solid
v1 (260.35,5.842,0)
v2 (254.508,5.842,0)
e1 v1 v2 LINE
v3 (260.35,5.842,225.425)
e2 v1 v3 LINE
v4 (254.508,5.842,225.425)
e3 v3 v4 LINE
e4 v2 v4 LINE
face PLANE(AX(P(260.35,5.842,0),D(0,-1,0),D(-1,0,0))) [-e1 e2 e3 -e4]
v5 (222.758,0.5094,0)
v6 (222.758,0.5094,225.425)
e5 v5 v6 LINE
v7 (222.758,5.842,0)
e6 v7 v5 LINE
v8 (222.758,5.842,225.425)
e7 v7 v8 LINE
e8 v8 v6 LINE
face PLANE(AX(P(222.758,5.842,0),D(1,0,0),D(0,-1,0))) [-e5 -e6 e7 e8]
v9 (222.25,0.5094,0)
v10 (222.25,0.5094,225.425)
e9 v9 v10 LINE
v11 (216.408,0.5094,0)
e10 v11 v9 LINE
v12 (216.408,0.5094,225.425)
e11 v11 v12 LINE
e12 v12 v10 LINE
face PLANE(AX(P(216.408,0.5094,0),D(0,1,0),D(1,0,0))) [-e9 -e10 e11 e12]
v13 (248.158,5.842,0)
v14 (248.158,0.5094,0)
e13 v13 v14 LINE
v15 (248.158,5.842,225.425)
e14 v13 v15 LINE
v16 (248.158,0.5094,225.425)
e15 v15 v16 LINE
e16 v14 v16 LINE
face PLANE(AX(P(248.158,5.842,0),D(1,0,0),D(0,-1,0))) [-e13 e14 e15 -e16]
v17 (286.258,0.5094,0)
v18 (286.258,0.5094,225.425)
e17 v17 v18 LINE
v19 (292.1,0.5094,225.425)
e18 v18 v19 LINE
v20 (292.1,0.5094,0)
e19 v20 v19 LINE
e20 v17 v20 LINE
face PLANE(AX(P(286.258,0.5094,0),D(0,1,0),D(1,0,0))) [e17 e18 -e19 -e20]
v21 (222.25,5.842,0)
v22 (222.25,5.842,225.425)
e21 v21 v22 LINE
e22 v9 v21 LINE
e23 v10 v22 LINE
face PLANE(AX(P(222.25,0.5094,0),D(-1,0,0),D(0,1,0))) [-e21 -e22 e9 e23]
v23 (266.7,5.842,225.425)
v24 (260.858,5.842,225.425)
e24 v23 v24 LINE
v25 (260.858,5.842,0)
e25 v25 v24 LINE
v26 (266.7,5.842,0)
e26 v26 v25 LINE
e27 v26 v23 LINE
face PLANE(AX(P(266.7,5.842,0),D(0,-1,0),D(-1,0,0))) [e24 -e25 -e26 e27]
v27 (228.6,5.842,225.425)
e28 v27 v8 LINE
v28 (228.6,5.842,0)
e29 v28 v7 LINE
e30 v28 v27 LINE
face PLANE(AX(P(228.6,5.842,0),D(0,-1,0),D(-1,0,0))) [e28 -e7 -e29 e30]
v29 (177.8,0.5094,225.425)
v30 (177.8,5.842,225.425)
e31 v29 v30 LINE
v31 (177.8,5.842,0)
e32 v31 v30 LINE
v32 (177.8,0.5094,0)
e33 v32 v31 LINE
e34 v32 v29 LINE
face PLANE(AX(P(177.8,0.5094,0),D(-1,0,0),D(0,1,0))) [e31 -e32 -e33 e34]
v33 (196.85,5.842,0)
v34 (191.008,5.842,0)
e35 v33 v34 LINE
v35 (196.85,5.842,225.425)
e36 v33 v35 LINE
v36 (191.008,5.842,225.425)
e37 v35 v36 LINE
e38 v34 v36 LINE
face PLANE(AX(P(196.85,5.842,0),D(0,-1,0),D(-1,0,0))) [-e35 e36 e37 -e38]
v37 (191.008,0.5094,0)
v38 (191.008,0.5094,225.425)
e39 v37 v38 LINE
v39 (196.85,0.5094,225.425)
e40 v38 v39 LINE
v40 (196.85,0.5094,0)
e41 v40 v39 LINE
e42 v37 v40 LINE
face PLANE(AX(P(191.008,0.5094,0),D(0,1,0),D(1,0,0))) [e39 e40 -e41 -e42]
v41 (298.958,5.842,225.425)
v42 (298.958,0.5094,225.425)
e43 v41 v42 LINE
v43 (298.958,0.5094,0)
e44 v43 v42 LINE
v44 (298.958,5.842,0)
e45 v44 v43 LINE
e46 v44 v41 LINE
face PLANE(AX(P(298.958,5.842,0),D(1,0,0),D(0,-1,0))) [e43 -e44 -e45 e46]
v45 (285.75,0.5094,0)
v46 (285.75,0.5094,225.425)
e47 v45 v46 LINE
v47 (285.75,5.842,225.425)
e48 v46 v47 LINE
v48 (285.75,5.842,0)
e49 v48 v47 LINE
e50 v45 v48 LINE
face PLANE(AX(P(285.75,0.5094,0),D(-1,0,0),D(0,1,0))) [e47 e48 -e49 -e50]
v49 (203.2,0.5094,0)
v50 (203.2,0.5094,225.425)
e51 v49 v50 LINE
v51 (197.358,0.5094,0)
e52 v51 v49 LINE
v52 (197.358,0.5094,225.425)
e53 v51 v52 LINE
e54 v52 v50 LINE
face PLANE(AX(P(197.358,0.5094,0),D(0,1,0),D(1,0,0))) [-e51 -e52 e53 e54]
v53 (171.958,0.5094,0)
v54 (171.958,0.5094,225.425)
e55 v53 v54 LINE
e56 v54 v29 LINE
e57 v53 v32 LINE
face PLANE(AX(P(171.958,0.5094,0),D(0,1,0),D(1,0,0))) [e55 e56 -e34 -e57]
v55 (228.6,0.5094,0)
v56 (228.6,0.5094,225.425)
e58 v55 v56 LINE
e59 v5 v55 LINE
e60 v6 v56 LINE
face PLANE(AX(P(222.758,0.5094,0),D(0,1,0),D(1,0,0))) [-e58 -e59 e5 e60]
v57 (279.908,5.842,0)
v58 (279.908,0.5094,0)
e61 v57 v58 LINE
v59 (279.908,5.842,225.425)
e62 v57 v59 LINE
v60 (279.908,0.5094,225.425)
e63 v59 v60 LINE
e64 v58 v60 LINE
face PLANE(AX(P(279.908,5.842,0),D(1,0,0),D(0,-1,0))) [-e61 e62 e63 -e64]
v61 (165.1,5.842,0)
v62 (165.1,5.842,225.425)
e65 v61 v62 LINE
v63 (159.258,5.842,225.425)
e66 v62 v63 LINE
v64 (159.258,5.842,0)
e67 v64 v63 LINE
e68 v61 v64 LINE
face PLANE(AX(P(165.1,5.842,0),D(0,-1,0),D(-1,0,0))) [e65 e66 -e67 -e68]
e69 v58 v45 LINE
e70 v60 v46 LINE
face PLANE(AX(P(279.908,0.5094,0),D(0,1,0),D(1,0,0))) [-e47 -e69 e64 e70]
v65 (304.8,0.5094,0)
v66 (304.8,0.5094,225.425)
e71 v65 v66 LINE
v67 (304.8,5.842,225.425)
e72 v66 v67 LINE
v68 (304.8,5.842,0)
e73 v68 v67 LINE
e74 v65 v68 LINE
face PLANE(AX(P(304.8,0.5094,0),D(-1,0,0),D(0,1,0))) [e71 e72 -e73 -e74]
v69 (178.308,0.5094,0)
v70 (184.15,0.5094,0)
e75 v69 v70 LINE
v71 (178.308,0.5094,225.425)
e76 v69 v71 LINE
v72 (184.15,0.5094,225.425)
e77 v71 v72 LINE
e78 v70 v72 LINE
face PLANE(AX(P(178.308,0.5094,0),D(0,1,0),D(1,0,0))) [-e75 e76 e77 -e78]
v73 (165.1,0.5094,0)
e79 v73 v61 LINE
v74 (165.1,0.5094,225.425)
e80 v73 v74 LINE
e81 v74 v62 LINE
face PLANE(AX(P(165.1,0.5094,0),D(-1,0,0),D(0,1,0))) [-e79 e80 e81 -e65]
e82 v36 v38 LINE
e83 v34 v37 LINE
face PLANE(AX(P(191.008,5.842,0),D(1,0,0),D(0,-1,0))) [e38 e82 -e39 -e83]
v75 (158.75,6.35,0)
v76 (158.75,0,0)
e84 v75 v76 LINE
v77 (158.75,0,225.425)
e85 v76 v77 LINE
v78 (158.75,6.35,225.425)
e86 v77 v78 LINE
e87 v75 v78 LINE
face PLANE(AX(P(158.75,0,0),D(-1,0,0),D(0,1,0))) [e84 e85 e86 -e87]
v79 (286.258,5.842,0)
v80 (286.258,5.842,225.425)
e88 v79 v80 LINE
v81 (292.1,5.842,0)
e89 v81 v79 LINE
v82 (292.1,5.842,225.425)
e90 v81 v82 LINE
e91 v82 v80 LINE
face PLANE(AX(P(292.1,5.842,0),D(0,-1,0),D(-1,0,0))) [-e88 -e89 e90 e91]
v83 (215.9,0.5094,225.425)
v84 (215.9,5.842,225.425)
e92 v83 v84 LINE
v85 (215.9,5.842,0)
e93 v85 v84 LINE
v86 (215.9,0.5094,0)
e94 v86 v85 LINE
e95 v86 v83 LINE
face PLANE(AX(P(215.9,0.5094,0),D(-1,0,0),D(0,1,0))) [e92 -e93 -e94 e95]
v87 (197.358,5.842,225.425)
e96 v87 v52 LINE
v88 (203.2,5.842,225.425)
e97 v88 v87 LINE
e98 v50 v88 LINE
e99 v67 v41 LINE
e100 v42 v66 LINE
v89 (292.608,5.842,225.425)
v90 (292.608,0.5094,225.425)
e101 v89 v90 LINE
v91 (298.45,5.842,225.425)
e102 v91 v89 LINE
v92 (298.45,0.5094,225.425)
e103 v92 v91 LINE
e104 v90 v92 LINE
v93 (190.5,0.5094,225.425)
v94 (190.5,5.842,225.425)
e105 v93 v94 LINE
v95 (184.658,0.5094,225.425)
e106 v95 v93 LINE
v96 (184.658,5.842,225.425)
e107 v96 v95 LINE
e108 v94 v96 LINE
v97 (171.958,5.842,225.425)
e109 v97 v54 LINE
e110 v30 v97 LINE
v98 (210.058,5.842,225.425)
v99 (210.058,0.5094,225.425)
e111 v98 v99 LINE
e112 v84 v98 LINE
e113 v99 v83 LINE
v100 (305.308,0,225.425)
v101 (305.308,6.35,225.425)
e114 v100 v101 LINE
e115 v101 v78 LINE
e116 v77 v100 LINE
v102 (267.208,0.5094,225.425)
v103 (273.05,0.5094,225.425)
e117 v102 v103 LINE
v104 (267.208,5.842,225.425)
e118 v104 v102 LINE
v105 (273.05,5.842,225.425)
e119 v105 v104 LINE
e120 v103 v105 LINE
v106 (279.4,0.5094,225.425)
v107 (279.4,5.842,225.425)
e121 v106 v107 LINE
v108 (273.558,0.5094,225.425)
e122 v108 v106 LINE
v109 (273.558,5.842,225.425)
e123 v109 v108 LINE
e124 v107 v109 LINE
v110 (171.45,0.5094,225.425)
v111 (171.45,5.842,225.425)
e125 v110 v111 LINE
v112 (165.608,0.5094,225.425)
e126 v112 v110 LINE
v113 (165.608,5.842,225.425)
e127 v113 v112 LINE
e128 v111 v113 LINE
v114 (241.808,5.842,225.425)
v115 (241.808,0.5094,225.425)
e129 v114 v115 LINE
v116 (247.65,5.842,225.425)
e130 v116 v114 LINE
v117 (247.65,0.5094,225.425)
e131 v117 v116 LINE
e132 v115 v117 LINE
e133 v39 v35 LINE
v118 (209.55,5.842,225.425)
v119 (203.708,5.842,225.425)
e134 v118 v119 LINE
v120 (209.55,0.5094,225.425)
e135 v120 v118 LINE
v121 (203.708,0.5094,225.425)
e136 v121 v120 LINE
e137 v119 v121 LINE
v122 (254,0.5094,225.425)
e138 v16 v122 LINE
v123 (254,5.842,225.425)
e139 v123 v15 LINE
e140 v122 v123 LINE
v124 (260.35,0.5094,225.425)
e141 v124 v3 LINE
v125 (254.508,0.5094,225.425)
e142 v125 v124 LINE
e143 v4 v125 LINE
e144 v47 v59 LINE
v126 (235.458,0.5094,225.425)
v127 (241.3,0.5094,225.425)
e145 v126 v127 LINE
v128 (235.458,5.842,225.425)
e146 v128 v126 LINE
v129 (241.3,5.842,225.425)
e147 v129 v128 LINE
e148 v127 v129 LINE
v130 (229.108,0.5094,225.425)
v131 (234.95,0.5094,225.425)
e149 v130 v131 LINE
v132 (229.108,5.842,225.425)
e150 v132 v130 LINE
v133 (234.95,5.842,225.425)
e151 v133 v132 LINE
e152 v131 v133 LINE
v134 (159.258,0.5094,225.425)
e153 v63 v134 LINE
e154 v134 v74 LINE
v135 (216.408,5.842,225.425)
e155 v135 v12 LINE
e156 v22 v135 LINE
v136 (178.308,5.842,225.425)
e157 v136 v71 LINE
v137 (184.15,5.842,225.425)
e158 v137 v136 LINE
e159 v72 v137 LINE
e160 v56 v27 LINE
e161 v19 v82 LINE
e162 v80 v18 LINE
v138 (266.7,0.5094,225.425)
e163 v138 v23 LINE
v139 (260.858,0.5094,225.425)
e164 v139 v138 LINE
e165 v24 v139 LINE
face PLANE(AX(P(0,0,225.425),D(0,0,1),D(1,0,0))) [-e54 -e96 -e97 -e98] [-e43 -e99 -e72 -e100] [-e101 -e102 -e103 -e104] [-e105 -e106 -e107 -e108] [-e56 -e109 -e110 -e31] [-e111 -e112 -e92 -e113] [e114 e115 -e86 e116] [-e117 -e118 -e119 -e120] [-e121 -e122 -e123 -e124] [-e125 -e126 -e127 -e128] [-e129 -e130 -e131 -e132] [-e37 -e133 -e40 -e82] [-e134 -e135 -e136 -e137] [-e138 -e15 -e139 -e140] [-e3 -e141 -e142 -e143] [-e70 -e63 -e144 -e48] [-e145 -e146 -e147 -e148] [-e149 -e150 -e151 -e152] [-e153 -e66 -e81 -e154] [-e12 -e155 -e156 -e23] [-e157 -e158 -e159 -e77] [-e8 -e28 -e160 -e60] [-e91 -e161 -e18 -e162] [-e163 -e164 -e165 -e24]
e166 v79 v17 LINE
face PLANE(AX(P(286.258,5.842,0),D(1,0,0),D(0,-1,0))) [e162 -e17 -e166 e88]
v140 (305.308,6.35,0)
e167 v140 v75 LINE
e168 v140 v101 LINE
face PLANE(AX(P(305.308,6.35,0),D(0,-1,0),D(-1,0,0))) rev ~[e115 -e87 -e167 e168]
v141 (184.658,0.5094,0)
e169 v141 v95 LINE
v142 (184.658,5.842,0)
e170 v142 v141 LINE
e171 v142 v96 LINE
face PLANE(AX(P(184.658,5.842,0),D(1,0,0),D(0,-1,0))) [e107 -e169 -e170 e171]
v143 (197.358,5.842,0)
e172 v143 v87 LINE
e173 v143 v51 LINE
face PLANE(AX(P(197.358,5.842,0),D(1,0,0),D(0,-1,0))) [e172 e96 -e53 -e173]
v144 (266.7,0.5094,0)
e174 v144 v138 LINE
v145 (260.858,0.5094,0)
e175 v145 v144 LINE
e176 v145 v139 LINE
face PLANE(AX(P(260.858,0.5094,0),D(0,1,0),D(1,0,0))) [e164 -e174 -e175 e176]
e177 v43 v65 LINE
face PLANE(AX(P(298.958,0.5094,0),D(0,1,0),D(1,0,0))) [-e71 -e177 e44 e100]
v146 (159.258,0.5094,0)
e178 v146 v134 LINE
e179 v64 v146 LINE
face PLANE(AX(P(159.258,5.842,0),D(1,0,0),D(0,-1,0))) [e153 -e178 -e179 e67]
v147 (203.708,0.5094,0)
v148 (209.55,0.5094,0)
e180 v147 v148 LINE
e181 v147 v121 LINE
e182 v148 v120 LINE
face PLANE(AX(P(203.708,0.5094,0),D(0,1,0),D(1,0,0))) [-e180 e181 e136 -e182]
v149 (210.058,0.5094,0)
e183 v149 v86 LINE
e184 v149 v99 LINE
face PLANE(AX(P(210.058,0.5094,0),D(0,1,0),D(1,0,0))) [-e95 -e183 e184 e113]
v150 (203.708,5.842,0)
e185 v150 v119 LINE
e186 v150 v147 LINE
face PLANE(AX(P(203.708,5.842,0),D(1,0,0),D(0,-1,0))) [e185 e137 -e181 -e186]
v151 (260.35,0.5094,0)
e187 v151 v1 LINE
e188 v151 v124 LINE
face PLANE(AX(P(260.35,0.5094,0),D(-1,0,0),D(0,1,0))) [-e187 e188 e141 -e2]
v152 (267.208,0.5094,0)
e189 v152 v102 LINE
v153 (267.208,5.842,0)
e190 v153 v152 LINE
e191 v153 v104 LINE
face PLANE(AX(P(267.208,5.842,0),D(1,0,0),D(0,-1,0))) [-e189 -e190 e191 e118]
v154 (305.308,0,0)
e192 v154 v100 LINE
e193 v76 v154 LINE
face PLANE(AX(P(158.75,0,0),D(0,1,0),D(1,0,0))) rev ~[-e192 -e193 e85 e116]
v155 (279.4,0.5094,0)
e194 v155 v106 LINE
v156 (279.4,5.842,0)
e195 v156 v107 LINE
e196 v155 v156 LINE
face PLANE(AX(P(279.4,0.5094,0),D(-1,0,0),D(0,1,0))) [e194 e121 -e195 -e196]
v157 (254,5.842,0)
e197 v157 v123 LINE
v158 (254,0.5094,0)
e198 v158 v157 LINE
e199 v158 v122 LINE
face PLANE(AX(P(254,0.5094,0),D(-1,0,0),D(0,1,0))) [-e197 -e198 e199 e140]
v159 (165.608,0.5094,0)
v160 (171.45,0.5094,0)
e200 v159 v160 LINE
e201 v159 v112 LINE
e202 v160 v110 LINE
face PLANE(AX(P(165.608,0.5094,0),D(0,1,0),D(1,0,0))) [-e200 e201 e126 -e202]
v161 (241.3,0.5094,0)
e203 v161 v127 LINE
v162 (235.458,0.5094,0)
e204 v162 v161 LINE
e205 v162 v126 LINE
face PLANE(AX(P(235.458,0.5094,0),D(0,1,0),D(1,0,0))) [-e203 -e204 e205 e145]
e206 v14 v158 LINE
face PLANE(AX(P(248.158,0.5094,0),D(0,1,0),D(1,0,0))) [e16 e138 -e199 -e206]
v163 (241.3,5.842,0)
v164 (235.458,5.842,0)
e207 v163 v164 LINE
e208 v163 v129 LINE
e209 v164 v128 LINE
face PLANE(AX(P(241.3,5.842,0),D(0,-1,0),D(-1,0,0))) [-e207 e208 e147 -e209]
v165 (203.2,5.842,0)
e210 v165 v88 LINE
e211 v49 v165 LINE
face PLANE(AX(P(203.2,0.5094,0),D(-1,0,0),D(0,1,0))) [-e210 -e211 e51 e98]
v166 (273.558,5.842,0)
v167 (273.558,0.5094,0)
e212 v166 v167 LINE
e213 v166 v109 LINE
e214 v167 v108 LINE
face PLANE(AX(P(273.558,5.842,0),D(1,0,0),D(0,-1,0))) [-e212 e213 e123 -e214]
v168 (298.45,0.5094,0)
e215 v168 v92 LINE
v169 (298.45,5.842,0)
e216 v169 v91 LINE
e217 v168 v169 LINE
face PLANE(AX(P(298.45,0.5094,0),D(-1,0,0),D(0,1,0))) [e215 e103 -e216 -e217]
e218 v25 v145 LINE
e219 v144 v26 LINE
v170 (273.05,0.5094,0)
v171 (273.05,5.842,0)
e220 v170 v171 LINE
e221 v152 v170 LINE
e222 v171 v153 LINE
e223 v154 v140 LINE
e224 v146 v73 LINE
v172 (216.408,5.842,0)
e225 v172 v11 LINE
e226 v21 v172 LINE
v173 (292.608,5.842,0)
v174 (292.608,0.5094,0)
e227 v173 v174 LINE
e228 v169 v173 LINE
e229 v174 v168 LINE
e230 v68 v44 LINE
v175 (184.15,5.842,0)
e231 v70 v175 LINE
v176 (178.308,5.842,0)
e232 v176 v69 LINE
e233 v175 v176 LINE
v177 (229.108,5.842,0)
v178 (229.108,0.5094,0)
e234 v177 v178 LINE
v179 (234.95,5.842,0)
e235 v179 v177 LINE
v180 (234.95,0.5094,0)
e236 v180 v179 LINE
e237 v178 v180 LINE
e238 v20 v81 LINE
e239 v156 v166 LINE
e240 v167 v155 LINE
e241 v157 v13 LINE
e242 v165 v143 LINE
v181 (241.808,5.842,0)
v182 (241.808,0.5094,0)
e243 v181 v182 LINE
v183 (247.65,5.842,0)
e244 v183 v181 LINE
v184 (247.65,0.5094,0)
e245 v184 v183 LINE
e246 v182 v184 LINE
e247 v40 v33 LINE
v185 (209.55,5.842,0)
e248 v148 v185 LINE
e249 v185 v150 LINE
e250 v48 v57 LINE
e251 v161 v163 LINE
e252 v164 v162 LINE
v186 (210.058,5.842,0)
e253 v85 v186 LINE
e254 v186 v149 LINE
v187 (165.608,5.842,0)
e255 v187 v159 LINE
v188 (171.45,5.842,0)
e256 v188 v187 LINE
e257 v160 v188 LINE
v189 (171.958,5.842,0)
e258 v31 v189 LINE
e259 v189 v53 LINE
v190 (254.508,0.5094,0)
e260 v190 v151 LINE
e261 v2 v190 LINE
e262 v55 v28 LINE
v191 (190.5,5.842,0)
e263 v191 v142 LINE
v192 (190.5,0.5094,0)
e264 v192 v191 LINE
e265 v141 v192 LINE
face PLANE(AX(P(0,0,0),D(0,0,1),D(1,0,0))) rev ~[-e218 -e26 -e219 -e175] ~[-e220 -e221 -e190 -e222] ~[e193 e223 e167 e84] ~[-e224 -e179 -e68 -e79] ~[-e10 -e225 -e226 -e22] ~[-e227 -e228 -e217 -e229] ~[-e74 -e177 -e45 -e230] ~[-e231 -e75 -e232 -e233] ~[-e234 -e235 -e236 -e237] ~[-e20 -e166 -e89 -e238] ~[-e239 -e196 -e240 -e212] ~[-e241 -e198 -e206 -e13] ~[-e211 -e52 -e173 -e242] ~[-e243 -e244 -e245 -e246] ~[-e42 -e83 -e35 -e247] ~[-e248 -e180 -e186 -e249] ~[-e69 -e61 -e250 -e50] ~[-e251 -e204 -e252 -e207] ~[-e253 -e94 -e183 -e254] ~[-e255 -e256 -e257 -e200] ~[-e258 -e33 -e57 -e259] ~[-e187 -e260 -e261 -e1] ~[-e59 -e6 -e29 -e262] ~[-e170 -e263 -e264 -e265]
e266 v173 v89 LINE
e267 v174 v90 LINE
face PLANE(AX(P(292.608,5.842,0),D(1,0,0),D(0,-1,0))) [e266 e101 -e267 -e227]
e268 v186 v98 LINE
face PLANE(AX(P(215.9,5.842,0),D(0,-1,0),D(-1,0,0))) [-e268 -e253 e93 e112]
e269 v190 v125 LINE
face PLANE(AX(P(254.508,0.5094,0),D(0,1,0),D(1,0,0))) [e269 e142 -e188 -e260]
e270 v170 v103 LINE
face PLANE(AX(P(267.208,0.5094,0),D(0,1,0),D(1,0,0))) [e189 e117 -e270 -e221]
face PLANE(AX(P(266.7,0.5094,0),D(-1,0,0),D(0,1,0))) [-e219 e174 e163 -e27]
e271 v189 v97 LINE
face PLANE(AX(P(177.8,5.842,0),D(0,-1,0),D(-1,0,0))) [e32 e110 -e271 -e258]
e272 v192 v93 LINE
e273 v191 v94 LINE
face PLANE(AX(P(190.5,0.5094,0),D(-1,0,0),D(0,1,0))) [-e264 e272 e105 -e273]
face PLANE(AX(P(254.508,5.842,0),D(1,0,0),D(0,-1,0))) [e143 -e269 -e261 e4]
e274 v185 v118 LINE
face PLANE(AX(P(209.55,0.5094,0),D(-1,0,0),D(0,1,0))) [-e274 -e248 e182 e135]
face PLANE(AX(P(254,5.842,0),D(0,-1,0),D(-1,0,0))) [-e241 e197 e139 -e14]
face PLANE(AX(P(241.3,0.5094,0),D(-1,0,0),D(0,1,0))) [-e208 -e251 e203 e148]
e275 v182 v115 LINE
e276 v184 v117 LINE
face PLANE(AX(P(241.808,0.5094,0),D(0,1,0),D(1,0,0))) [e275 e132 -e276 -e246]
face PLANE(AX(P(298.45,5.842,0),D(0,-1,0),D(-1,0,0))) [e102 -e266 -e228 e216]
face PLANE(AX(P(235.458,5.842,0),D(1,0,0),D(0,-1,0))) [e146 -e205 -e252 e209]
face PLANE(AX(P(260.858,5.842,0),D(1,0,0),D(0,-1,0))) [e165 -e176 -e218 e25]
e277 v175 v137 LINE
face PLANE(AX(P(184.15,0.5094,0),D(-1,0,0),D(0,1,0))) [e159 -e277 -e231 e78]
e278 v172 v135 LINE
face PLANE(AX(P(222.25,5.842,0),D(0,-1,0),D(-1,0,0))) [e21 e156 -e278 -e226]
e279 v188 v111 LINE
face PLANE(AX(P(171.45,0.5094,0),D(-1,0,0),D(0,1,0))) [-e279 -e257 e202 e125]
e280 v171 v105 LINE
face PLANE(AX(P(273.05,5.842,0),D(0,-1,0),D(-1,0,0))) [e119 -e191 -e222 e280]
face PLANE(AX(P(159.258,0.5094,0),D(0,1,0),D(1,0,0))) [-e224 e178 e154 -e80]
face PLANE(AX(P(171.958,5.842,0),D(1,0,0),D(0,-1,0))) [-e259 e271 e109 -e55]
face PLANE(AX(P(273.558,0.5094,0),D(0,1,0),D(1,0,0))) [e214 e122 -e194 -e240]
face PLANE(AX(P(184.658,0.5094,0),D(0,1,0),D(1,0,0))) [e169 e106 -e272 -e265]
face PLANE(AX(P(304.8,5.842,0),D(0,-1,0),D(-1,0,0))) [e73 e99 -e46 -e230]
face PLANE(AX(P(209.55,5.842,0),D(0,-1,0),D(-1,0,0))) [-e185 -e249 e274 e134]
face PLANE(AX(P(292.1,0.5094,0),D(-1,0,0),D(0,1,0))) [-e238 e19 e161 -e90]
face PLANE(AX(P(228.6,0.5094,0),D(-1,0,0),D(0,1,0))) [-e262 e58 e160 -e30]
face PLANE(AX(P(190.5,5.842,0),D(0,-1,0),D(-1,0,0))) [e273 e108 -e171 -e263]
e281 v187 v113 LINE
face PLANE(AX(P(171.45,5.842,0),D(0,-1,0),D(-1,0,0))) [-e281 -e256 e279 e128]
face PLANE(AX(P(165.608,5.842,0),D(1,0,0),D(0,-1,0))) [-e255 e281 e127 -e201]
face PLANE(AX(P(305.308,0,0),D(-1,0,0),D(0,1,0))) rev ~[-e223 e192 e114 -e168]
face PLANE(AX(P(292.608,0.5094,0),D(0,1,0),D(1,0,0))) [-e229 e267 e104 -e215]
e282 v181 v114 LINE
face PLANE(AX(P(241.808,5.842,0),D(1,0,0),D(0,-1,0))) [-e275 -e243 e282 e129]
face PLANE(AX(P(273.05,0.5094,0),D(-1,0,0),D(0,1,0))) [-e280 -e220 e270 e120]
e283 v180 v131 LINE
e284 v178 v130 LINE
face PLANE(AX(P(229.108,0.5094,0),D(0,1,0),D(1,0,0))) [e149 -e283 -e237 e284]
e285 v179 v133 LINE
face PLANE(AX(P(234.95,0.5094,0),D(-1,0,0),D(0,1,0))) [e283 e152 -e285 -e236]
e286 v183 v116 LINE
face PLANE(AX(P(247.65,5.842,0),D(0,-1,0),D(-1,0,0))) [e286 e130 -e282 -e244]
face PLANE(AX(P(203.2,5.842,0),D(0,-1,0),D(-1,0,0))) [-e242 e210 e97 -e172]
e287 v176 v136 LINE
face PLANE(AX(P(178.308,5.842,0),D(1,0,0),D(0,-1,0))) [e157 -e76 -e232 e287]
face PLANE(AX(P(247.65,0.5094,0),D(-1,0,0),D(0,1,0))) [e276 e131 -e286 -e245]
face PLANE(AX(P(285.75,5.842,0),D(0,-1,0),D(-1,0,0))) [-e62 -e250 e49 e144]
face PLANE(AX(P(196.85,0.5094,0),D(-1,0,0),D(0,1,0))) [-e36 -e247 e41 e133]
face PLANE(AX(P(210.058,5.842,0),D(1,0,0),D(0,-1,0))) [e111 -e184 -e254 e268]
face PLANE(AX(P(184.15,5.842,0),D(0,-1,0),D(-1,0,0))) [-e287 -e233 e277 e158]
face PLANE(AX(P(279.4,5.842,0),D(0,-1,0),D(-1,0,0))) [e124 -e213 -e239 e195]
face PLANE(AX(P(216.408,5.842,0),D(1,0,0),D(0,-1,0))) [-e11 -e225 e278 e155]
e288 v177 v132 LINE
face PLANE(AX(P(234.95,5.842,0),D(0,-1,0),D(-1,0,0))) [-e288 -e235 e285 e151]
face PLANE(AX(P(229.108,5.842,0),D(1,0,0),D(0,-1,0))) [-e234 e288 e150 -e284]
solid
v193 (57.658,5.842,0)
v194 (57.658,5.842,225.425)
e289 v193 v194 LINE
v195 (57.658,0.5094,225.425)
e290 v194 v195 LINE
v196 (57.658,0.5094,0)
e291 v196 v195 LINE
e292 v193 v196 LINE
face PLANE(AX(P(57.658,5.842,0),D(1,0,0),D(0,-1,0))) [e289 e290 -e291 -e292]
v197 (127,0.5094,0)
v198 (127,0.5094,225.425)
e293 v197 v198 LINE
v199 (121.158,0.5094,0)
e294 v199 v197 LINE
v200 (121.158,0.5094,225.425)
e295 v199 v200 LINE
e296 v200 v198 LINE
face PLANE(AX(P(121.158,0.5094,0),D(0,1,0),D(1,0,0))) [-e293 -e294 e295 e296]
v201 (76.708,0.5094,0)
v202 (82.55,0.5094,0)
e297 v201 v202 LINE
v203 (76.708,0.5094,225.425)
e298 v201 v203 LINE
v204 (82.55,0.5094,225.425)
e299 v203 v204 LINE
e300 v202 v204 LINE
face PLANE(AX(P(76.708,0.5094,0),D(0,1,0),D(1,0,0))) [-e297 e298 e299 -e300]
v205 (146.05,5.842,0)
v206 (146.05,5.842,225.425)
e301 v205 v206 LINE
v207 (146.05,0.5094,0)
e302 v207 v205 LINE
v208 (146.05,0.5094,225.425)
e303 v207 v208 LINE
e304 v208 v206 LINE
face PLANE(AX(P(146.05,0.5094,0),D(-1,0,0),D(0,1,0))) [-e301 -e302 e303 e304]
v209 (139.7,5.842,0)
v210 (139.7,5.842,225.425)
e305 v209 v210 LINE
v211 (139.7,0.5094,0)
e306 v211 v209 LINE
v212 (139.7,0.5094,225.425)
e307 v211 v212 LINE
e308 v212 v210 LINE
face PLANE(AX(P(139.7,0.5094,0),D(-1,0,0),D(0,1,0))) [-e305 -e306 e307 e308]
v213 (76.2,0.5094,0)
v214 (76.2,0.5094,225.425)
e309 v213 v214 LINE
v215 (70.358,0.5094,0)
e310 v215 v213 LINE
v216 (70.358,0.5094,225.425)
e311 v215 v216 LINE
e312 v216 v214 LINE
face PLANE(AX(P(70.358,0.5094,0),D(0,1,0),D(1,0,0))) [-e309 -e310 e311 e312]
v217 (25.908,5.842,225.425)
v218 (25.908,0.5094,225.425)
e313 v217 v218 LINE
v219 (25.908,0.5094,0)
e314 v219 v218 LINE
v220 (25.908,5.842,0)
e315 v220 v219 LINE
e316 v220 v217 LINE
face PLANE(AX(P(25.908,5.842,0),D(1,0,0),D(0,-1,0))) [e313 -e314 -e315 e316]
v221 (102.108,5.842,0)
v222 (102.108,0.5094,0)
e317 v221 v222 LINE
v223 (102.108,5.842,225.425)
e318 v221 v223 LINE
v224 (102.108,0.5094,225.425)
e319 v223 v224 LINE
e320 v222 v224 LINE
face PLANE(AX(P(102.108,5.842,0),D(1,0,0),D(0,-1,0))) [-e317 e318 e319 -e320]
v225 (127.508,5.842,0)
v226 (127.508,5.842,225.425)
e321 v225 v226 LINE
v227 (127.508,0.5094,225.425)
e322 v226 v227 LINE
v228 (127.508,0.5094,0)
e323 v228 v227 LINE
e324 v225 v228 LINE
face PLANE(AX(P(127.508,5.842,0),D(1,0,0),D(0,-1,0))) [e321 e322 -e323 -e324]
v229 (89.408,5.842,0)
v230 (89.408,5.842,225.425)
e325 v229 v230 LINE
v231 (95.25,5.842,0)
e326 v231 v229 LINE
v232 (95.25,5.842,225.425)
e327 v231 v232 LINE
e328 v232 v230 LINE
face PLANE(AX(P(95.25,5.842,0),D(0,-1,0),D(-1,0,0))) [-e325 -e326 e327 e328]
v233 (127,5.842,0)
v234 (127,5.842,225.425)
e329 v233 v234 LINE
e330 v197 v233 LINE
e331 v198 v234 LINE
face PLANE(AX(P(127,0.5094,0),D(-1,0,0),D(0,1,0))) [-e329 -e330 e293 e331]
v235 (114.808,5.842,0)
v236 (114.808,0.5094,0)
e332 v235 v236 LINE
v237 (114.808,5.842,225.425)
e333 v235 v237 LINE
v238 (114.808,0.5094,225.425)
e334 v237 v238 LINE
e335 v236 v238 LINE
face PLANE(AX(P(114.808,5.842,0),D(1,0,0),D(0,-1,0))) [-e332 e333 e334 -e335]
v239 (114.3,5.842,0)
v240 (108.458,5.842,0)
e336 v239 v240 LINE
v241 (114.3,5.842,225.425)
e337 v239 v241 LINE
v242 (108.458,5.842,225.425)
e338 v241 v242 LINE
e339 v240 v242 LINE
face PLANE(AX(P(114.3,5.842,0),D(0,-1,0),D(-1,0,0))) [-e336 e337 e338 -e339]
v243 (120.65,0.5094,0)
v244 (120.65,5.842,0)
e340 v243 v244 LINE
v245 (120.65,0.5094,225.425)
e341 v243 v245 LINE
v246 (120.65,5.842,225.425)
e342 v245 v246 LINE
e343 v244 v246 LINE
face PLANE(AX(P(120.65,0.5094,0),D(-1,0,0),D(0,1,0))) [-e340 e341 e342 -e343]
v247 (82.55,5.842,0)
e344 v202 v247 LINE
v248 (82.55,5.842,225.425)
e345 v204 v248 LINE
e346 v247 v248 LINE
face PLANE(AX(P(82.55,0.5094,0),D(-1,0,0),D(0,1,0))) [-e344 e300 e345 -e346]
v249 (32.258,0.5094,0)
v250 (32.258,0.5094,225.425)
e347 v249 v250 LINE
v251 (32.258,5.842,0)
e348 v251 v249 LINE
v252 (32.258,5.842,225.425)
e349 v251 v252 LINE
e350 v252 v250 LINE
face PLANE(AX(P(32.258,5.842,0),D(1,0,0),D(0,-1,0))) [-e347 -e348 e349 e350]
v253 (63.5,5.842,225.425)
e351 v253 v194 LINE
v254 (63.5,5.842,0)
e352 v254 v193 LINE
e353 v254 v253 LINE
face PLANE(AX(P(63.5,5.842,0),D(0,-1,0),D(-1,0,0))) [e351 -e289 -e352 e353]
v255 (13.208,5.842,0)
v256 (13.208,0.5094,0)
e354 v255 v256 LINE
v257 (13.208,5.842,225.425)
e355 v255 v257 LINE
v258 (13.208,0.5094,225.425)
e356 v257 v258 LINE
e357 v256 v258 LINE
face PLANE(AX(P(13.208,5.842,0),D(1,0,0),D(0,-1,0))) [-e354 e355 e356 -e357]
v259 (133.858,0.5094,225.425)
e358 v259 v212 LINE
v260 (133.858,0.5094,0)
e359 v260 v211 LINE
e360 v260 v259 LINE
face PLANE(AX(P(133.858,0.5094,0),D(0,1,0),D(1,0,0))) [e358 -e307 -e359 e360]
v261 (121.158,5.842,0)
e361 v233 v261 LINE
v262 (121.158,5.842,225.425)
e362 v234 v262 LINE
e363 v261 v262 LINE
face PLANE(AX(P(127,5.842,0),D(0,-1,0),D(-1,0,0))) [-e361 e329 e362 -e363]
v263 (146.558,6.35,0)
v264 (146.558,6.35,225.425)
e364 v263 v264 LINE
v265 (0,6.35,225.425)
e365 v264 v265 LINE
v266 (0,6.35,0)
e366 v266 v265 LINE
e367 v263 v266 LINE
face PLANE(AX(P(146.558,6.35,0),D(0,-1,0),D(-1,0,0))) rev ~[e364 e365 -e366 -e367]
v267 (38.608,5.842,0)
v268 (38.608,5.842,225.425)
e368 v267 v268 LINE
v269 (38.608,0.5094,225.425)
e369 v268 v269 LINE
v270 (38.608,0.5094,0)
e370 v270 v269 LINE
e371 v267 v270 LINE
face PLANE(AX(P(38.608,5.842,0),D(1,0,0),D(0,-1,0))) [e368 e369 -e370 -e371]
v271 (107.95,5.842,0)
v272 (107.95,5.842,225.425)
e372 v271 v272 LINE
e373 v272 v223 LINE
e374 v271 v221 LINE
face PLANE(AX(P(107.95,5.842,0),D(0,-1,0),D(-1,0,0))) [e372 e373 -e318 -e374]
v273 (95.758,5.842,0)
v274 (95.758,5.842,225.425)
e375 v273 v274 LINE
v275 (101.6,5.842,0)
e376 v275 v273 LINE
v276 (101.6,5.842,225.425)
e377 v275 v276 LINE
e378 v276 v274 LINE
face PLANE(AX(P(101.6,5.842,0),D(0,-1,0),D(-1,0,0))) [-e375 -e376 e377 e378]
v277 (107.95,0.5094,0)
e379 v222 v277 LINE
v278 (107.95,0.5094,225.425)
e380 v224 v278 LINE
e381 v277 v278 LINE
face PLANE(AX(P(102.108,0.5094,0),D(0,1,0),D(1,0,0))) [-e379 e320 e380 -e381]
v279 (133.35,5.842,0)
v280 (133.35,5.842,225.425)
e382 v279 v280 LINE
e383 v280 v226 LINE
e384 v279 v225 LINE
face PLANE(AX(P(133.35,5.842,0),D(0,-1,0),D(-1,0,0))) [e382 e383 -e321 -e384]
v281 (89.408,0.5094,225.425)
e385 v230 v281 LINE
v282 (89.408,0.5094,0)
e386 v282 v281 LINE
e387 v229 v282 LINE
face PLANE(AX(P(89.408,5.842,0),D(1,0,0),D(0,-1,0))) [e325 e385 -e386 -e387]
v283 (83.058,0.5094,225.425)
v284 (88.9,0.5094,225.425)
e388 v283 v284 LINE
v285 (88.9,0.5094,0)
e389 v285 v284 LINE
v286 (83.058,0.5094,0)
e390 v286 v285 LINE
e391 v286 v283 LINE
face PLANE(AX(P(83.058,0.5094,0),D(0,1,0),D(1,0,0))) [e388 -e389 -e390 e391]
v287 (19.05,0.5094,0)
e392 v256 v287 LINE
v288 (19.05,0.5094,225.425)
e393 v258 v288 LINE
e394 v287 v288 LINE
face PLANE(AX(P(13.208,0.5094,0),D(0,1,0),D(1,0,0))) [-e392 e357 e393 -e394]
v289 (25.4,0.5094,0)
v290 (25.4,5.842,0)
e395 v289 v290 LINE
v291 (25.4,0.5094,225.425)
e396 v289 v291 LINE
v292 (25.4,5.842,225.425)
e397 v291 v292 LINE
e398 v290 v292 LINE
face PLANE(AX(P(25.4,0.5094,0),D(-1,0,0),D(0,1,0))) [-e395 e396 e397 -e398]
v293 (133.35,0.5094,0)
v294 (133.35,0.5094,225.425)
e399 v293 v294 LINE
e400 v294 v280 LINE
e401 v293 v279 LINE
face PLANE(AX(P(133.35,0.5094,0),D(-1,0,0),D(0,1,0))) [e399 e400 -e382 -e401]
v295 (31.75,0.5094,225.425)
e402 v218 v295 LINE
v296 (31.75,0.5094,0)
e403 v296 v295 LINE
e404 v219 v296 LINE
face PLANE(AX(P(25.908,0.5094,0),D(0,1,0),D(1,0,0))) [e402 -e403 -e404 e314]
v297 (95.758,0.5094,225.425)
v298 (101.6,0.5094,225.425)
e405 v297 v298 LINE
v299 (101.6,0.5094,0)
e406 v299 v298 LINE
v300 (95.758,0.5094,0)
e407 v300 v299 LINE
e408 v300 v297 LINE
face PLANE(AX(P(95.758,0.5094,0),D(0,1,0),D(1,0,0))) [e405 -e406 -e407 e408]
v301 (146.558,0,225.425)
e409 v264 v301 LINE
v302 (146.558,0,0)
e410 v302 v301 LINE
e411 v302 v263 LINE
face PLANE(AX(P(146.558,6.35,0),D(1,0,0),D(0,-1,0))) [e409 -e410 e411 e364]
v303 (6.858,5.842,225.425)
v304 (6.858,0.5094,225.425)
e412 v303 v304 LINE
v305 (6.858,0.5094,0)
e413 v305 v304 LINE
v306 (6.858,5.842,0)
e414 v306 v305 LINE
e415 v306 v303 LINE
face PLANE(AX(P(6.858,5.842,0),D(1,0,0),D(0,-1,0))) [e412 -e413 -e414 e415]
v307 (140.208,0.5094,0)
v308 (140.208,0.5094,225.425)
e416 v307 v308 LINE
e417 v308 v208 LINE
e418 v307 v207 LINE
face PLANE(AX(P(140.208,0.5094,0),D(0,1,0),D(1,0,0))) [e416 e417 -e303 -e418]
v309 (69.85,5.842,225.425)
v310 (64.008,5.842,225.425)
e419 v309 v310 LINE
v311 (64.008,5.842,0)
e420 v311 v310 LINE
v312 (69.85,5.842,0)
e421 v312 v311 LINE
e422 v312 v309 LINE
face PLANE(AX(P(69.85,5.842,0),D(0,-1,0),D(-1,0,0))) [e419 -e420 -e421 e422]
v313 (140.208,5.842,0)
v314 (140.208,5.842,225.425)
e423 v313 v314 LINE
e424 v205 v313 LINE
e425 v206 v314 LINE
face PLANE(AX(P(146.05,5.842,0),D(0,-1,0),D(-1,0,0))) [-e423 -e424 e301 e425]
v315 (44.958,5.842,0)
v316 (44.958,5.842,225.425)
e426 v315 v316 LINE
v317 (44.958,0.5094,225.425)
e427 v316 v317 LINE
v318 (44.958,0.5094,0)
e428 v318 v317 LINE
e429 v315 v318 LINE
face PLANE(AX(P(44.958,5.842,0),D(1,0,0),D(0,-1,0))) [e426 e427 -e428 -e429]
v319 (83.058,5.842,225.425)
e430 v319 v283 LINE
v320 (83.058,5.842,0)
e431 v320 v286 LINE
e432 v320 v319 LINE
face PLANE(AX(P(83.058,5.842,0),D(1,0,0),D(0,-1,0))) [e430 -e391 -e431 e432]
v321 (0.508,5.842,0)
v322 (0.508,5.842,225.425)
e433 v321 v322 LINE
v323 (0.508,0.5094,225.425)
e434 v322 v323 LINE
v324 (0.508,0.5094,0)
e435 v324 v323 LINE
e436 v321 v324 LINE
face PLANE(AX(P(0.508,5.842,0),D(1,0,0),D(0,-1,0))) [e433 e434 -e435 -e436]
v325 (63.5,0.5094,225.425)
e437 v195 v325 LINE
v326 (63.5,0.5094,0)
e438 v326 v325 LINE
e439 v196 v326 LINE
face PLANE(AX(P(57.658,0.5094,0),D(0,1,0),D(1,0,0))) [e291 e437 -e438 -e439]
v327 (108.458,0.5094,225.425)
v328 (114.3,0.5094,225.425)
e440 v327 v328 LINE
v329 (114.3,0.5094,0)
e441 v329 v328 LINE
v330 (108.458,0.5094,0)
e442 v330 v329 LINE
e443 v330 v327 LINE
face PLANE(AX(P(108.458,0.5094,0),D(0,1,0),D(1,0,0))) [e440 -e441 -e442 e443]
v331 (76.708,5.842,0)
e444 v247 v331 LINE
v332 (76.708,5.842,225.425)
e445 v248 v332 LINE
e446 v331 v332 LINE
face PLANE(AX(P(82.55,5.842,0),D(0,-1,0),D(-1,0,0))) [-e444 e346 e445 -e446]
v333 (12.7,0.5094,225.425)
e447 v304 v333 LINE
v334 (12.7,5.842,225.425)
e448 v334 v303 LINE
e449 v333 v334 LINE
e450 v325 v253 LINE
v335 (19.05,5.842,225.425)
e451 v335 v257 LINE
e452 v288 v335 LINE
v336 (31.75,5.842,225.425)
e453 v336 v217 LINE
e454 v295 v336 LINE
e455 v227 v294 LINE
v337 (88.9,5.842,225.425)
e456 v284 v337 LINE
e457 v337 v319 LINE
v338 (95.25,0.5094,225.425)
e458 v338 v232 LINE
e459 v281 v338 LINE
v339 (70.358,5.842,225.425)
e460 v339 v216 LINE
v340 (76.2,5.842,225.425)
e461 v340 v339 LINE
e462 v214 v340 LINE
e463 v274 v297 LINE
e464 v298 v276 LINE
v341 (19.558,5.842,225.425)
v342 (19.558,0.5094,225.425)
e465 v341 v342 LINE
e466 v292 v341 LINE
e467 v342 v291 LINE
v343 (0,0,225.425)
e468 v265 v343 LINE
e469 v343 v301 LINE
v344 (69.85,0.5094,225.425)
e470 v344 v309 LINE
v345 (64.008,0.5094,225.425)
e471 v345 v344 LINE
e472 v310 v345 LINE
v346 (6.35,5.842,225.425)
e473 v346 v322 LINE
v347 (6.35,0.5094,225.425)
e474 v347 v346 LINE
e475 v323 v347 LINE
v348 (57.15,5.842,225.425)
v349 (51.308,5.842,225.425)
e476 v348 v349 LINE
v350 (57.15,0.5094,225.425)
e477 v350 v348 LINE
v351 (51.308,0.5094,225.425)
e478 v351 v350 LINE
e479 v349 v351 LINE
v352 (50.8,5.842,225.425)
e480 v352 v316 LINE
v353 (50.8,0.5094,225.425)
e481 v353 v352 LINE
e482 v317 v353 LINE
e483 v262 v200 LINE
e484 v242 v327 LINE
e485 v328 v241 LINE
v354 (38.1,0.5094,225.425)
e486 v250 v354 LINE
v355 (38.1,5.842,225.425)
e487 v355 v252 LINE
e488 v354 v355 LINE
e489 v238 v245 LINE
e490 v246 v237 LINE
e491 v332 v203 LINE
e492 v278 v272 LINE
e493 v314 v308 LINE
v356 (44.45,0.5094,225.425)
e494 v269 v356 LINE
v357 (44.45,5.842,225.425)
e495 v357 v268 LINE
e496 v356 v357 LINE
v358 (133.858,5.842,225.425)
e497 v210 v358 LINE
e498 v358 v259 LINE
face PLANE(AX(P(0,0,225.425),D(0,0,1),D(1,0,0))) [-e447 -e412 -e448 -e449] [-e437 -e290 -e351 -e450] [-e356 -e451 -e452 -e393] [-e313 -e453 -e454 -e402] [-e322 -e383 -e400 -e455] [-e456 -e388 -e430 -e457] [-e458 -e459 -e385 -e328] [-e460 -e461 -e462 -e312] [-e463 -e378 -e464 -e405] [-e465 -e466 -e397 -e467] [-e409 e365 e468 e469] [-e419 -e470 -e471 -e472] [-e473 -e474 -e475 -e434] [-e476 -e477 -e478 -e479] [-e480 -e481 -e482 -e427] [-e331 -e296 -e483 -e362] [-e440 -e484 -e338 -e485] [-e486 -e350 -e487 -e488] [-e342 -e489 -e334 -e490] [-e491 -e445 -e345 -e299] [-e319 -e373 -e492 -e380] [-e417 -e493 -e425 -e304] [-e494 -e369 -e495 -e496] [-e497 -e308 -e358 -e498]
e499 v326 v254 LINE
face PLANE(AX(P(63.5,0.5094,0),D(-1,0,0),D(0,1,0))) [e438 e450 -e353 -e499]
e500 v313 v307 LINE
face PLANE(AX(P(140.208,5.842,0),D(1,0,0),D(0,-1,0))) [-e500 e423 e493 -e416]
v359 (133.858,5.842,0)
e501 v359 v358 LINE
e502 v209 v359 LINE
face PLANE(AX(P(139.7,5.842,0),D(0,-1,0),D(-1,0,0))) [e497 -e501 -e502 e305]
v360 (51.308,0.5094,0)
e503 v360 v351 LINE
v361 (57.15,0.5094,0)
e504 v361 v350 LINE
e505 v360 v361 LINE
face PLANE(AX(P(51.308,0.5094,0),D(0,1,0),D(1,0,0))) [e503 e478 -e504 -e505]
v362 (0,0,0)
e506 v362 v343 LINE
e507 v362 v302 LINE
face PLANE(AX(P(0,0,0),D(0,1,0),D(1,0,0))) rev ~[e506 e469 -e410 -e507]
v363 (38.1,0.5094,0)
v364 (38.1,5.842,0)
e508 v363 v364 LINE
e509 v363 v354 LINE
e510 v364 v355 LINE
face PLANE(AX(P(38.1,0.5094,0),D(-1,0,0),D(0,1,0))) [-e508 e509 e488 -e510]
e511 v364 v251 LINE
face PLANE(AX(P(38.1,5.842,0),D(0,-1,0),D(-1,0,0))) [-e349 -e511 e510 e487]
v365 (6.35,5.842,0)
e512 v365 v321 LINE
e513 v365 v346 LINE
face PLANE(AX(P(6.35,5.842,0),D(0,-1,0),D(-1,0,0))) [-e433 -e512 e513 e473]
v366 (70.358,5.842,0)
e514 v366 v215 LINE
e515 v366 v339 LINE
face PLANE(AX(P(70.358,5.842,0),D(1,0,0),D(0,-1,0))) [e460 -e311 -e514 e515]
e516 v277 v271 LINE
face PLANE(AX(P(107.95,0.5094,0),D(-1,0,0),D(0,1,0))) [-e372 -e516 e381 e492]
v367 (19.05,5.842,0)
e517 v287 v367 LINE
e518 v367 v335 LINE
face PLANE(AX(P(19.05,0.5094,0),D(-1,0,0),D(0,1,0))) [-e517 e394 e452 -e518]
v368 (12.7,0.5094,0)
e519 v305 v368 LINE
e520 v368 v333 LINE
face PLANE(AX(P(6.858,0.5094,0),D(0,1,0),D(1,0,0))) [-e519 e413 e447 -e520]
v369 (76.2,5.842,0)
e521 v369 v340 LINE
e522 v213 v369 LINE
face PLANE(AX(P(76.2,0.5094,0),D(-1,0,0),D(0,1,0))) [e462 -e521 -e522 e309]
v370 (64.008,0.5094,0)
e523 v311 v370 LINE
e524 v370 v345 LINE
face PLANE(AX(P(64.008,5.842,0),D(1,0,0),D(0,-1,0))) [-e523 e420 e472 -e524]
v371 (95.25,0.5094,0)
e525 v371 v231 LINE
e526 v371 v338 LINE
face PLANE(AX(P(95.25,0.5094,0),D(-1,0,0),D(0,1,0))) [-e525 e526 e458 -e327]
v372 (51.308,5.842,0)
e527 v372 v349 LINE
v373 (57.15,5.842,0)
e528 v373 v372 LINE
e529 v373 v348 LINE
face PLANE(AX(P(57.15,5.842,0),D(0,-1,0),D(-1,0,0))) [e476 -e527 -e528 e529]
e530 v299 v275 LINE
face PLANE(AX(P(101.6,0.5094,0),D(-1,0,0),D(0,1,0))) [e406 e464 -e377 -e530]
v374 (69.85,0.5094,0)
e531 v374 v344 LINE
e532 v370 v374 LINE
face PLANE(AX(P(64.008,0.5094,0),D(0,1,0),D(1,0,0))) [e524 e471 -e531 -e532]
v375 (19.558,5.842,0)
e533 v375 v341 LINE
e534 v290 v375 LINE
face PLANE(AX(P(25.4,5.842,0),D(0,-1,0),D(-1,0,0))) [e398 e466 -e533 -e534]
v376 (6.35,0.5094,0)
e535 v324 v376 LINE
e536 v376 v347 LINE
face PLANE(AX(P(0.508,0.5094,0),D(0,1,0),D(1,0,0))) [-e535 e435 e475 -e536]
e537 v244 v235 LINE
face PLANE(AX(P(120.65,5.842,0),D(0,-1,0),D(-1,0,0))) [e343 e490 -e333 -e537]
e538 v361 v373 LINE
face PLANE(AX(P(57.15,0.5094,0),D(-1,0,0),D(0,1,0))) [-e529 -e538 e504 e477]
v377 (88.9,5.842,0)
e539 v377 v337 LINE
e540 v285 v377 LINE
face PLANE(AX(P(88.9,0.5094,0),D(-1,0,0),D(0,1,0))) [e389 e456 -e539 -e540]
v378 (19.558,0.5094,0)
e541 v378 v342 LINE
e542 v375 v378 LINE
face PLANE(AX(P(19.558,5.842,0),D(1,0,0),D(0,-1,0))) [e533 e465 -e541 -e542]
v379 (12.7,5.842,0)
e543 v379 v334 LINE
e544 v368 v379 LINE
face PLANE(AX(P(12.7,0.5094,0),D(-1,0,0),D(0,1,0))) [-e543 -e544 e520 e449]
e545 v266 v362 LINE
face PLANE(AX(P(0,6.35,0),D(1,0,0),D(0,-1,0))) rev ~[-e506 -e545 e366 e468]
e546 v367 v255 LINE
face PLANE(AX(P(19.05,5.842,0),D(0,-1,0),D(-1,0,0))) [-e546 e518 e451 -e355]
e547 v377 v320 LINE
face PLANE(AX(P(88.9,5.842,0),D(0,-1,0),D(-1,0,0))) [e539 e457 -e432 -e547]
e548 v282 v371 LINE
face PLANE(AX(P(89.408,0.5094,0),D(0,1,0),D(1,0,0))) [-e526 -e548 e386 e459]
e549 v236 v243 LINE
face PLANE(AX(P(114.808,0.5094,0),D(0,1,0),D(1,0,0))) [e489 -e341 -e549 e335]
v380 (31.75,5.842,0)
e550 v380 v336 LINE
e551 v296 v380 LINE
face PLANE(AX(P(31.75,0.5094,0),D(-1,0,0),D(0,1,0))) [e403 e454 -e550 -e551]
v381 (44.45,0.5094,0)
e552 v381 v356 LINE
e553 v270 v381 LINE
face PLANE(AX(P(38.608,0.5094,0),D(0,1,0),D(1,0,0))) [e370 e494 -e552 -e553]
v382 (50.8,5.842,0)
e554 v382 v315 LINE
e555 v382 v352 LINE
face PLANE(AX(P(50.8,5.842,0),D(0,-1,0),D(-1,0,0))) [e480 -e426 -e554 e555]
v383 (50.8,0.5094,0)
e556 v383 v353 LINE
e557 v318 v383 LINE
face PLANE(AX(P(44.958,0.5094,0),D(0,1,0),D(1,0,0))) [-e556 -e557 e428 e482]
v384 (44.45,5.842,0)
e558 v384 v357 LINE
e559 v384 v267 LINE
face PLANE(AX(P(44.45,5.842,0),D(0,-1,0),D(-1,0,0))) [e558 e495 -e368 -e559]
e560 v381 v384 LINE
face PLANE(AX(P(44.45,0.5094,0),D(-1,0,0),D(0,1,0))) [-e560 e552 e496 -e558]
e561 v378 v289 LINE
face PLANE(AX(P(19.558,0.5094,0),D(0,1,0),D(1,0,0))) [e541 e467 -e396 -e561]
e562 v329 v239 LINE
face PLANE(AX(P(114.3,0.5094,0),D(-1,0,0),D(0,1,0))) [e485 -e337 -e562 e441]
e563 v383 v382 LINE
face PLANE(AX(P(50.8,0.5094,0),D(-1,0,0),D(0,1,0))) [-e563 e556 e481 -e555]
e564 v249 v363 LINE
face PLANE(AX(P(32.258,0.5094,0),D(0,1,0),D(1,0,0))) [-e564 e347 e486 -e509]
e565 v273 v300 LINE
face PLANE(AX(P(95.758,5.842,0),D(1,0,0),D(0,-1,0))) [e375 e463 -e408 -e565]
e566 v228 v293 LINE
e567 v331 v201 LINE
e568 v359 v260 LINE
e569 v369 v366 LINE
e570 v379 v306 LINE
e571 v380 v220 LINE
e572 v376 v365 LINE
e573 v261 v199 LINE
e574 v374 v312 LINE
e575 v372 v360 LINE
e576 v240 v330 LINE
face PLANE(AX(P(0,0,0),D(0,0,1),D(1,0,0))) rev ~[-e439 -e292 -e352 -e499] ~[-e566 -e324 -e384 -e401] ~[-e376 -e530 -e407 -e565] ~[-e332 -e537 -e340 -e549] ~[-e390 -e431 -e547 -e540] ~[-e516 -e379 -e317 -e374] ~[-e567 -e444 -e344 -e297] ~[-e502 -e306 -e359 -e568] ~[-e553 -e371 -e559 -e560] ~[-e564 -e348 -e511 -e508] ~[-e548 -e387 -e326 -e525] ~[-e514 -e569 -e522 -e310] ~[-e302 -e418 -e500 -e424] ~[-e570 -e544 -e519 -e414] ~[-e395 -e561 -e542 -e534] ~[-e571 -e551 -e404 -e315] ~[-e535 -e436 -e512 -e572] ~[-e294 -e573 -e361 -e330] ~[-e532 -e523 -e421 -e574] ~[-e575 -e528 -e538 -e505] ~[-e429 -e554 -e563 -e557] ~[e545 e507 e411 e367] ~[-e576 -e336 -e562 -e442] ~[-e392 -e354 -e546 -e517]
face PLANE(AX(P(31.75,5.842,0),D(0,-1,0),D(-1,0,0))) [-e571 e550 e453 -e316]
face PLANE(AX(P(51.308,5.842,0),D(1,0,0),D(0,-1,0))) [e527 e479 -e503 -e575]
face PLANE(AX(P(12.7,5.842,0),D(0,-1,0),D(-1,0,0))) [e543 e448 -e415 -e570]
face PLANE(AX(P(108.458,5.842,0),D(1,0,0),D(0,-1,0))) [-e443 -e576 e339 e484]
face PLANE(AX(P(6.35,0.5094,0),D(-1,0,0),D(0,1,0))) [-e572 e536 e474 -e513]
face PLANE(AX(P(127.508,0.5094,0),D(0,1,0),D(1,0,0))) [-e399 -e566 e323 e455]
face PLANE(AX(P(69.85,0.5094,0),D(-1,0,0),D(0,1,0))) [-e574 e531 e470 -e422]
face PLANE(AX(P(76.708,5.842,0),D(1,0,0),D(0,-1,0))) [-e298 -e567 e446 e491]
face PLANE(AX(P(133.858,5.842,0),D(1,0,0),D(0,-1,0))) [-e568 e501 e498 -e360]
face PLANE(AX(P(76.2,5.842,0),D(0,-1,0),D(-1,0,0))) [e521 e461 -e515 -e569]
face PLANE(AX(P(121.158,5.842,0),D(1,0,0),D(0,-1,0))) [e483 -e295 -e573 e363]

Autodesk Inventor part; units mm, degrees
ref_plane "YZ Plane" through (0, 0, 0) normal (1, 0, 0) x (0, 1, 0)
ref_plane "XZ Plane" through (0, 0, 0) normal (0, 1, 0) x (-1, 0, 0)
ref_plane "XY Plane" through (0, 0, 0) normal (0, 0, 1) x (1, 0, 0)
sketch "Sketch1" plane through (0, 0, 0) normal (0, 0, 1) x (1, 0, 0)
  line L0 (0, 0) -> (146.558, 0)
  line L1 (305.308, 0) -> (305.308, 6.35)
  line L2 (305.308, 6.35) -> (0, 6.35)
  line L3 (0, 6.35) -> (0, 0)
  line L4 (0.508, 0.5094) -> (6.35, 0.5094)
  line L5 (6.35, 0.5094) -> (6.35, 5.842)
  line L6 (6.35, 5.842) -> (0.508, 5.842)
  line L7 (0.508, 5.842) -> (0.508, 0.5094)
  line L8 (6.858, 0.5094) -> (12.7, 0.5094)
  line L9 (12.7, 0.5094) -> (12.7, 5.842)
  line L10 (12.7, 5.842) -> (6.858, 5.842)
  line L11 (6.858, 5.842) -> (6.858, 0.5094)
  line L12 (13.208, 0.5094) -> (19.05, 0.5094)
  line L13 (19.05, 0.5094) -> (19.05, 5.842)
  line L14 (19.05, 5.842) -> (13.208, 5.842)
  line L15 (13.208, 5.842) -> (13.208, 0.5094)
  line L16 (19.558, 0.5094) -> (25.4, 0.5094)
  line L17 (25.4, 0.5094) -> (25.4, 5.842)
  line L18 (25.4, 5.842) -> (19.558, 5.842)
  line L19 (19.558, 5.842) -> (19.558, 0.5094)
  line L20 (25.908, 0.5094) -> (31.75, 0.5094)
  line L21 (31.75, 0.5094) -> (31.75, 5.842)
  line L22 (31.75, 5.842) -> (25.908, 5.842)
  line L23 (25.908, 5.842) -> (25.908, 0.5094)
  line L24 (32.258, 0.5094) -> (38.1, 0.5094)
  line L25 (38.1, 0.5094) -> (38.1, 5.842)
  line L26 (38.1, 5.842) -> (32.258, 5.842)
  line L27 (32.258, 5.842) -> (32.258, 0.5094)
  line L28 (38.608, 0.5094) -> (44.45, 0.5094)
  line L29 (44.45, 0.5094) -> (44.45, 5.842)
  line L30 (44.45, 5.842) -> (38.608, 5.842)
  line L31 (38.608, 5.842) -> (38.608, 0.5094)
  line L32 (44.958, 0.5094) -> (50.8, 0.5094)
  line L33 (50.8, 0.5094) -> (50.8, 5.842)
  line L34 (50.8, 5.842) -> (44.958, 5.842)
  line L35 (44.958, 5.842) -> (44.958, 0.5094)
  line L36 (51.308, 0.5094) -> (57.15, 0.5094)
  line L37 (57.15, 0.5094) -> (57.15, 5.842)
  line L38 (57.15, 5.842) -> (51.308, 5.842)
  line L39 (51.308, 5.842) -> (51.308, 0.5094)
  line L40 (57.658, 0.5094) -> (63.5, 0.5094)
  line L41 (63.5, 0.5094) -> (63.5, 5.842)
  line L42 (63.5, 5.842) -> (57.658, 5.842)
  line L43 (57.658, 5.842) -> (57.658, 0.5094)
  line L44 (64.008, 0.5094) -> (69.85, 0.5094)
  line L45 (69.85, 0.5094) -> (69.85, 5.842)
  line L46 (69.85, 5.842) -> (64.008, 5.842)
  line L47 (64.008, 5.842) -> (64.008, 0.5094)
  line L48 (70.358, 0.5094) -> (76.2, 0.5094)
  line L49 (76.2, 0.5094) -> (76.2, 5.842)
  line L50 (76.2, 5.842) -> (70.358, 5.842)
  line L51 (70.358, 5.842) -> (70.358, 0.5094)
  line L52 (76.708, 0.5094) -> (82.55, 0.5094)
  line L53 (82.55, 0.5094) -> (82.55, 5.842)
  line L54 (82.55, 5.842) -> (76.708, 5.842)
  line L55 (76.708, 5.842) -> (76.708, 0.5094)
  line L56 (83.058, 0.5094) -> (88.9, 0.5094)
  line L57 (88.9, 0.5094) -> (88.9, 5.842)
  line L58 (88.9, 5.842) -> (83.058, 5.842)
  line L59 (83.058, 5.842) -> (83.058, 0.5094)
  line L60 (89.408, 0.5094) -> (95.25, 0.5094)
  line L61 (95.25, 0.5094) -> (95.25, 5.842)
  line L62 (95.25, 5.842) -> (89.408, 5.842)
  line L63 (89.408, 5.842) -> (89.408, 0.5094)
  line L64 (95.758, 0.5094) -> (101.6, 0.5094)
  line L65 (101.6, 0.5094) -> (101.6, 5.842)
  line L66 (101.6, 5.842) -> (95.758, 5.842)
  line L67 (95.758, 5.842) -> (95.758, 0.5094)
  line L68 (102.108, 0.5094) -> (107.95, 0.5094)
  line L69 (107.95, 0.5094) -> (107.95, 5.842)
  line L70 (107.95, 5.842) -> (102.108, 5.842)
  line L71 (102.108, 5.842) -> (102.108, 0.5094)
  line L72 (108.458, 0.5094) -> (114.3, 0.5094)
  line L73 (114.3, 0.5094) -> (114.3, 5.842)
  line L74 (114.3, 5.842) -> (108.458, 5.842)
  line L75 (108.458, 5.842) -> (108.458, 0.5094)
  line L76 (114.808, 0.5094) -> (120.65, 0.5094)
  line L77 (120.65, 0.5094) -> (120.65, 5.842)
  line L78 (120.65, 5.842) -> (114.808, 5.842)
  line L79 (114.808, 5.842) -> (114.808, 0.5094)
  line L80 (121.158, 0.5094) -> (127, 0.5094)
  line L81 (127, 0.5094) -> (127, 5.842)
  line L82 (127, 5.842) -> (121.158, 5.842)
  line L83 (121.158, 5.842) -> (121.158, 0.5094)
  line L84 (127.508, 0.5094) -> (133.35, 0.5094)
  line L85 (133.35, 0.5094) -> (133.35, 5.842)
  line L86 (133.35, 5.842) -> (127.508, 5.842)
  line L87 (127.508, 5.842) -> (127.508, 0.5094)
  line L88 (133.858, 0.5094) -> (139.7, 0.5094)
  line L89 (139.7, 0.5094) -> (139.7, 5.842)
  line L90 (139.7, 5.842) -> (133.858, 5.842)
  line L91 (133.858, 5.842) -> (133.858, 0.5094)
  line L92 (140.208, 0.5094) -> (146.05, 0.5094)
  line L93 (146.05, 0.5094) -> (146.05, 5.842)
  line L94 (146.05, 5.842) -> (140.208, 5.842)
  line L95 (140.208, 5.842) -> (140.208, 0.5094)
  line L96 (146.558, 0.5094) -> (152.4, 0.5094)
  line L97 (152.4, 0.5094) -> (152.4, 5.842)
  line L98 (152.4, 5.842) -> (146.558, 5.842)
  line L99 (146.558, 5.842) -> (146.558, 0.5094)
  line L100 (152.908, 0.5094) -> (158.75, 0.5094)
  line L101 (158.75, 0.5094) -> (158.75, 5.842)
  line L102 (158.75, 5.842) -> (152.908, 5.842)
  line L103 (152.908, 5.842) -> (152.908, 0.5094)
  line L104 (159.258, 0.5094) -> (165.1, 0.5094)
  line L105 (165.1, 0.5094) -> (165.1, 5.842)
  line L106 (165.1, 5.842) -> (159.258, 5.842)
  line L107 (159.258, 5.842) -> (159.258, 0.5094)
  line L108 (165.608, 0.5094) -> (171.45, 0.5094)
  line L109 (171.45, 0.5094) -> (171.45, 5.842)
  line L110 (171.45, 5.842) -> (165.608, 5.842)
  line L111 (165.608, 5.842) -> (165.608, 0.5094)
  line L112 (171.958, 0.5094) -> (177.8, 0.5094)
  line L113 (177.8, 0.5094) -> (177.8, 5.842)
  line L114 (177.8, 5.842) -> (171.958, 5.842)
  line L115 (171.958, 5.842) -> (171.958, 0.5094)
  line L116 (178.308, 0.5094) -> (184.15, 0.5094)
  line L117 (184.15, 0.5094) -> (184.15, 5.842)
  line L118 (184.15, 5.842) -> (178.308, 5.842)
  line L119 (178.308, 5.842) -> (178.308, 0.5094)
  line L120 (184.658, 0.5094) -> (190.5, 0.5094)
  line L121 (190.5, 0.5094) -> (190.5, 5.842)
  line L122 (190.5, 5.842) -> (184.658, 5.842)
  line L123 (184.658, 5.842) -> (184.658, 0.5094)
  line L124 (191.008, 0.5094) -> (196.85, 0.5094)
  line L125 (196.85, 0.5094) -> (196.85, 5.842)
  line L126 (196.85, 5.842) -> (191.008, 5.842)
  line L127 (191.008, 5.842) -> (191.008, 0.5094)
  line L128 (197.358, 0.5094) -> (203.2, 0.5094)
  line L129 (203.2, 0.5094) -> (203.2, 5.842)
  line L130 (203.2, 5.842) -> (197.358, 5.842)
  line L131 (197.358, 5.842) -> (197.358, 0.5094)
  line L132 (203.708, 0.5094) -> (209.55, 0.5094)
  line L133 (209.55, 0.5094) -> (209.55, 5.842)
  line L134 (209.55, 5.842) -> (203.708, 5.842)
  line L135 (203.708, 5.842) -> (203.708, 0.5094)
  line L136 (210.058, 0.5094) -> (215.9, 0.5094)
  line L137 (215.9, 0.5094) -> (215.9, 5.842)
  line L138 (215.9, 5.842) -> (210.058, 5.842)
  line L139 (210.058, 5.842) -> (210.058, 0.5094)
  line L140 (216.408, 0.5094) -> (222.25, 0.5094)
  line L141 (222.25, 0.5094) -> (222.25, 5.842)
  line L142 (222.25, 5.842) -> (216.408, 5.842)
  line L143 (216.408, 5.842) -> (216.408, 0.5094)
  line L144 (222.758, 0.5094) -> (228.6, 0.5094)
  line L145 (228.6, 0.5094) -> (228.6, 5.842)
  line L146 (228.6, 5.842) -> (222.758, 5.842)
  line L147 (222.758, 5.842) -> (222.758, 0.5094)
  line L148 (229.108, 0.5094) -> (234.95, 0.5094)
  line L149 (234.95, 0.5094) -> (234.95, 5.842)
  line L150 (234.95, 5.842) -> (229.108, 5.842)
  line L151 (229.108, 5.842) -> (229.108, 0.5094)
  line L152 (235.458, 0.5094) -> (241.3, 0.5094)
  line L153 (241.3, 0.5094) -> (241.3, 5.842)
  line L154 (241.3, 5.842) -> (235.458, 5.842)
  line L155 (235.458, 5.842) -> (235.458, 0.5094)
  line L156 (241.808, 0.5094) -> (247.65, 0.5094)
  line L157 (247.65, 0.5094) -> (247.65, 5.842)
  line L158 (247.65, 5.842) -> (241.808, 5.842)
  line L159 (241.808, 5.842) -> (241.808, 0.5094)
  line L160 (248.158, 0.5094) -> (254, 0.5094)
  line L161 (254, 0.5094) -> (254, 5.842)
  line L162 (254, 5.842) -> (248.158, 5.842)
  line L163 (248.158, 5.842) -> (248.158, 0.5094)
  line L164 (254.508, 0.5094) -> (260.35, 0.5094)
  line L165 (260.35, 0.5094) -> (260.35, 5.842)
  line L166 (260.35, 5.842) -> (254.508, 5.842)
  line L167 (254.508, 5.842) -> (254.508, 0.5094)
  line L168 (260.858, 0.5094) -> (266.7, 0.5094)
  line L169 (266.7, 0.5094) -> (266.7, 5.842)
  line L170 (266.7, 5.842) -> (260.858, 5.842)
  line L171 (260.858, 5.842) -> (260.858, 0.5094)
  line L172 (267.208, 0.5094) -> (273.05, 0.5094)
  line L173 (273.05, 0.5094) -> (273.05, 5.842)
  line L174 (273.05, 5.842) -> (267.208, 5.842)
  line L175 (267.208, 5.842) -> (267.208, 0.5094)
  line L176 (273.558, 0.5094) -> (279.4, 0.5094)
  line L177 (279.4, 0.5094) -> (279.4, 5.842)
  line L178 (279.4, 5.842) -> (273.558, 5.842)
  line L179 (273.558, 5.842) -> (273.558, 0.5094)
  line L180 (279.908, 0.5094) -> (285.75, 0.5094)
  line L181 (285.75, 0.5094) -> (285.75, 5.842)
  line L182 (285.75, 5.842) -> (279.908, 5.842)
  line L183 (279.908, 5.842) -> (279.908, 0.5094)
  line L184 (286.258, 0.5094) -> (292.1, 0.5094)
  line L185 (292.1, 0.5094) -> (292.1, 5.842)
  line L186 (292.1, 5.842) -> (286.258, 5.842)
  line L187 (286.258, 5.842) -> (286.258, 0.5094)
  line L188 (292.608, 0.5094) -> (298.45, 0.5094)
  line L189 (298.45, 0.5094) -> (298.45, 5.842)
  line L190 (298.45, 5.842) -> (292.608, 5.842)
  line L191 (292.608, 5.842) -> (292.608, 0.5094)
  line L192 (298.958, 0.5094) -> (304.8, 0.5094)
  line L193 (304.8, 0.5094) -> (304.8, 5.842)
  line L194 (304.8, 5.842) -> (298.958, 5.842)
  line L195 (298.958, 5.842) -> (298.958, 0.5094)
  line L196 (152.654, 6.35) -> (152.654, 0) construction
  line L197 (146.558, 0.5094) -> (146.558, 0)
  line L198 (158.75, 0) -> (158.75, 0.5094)
  line L199 (146.558, 0) -> (158.75, 0) construction
  line L200 (158.75, 0) -> (305.308, 0)
  line L201 (146.558, 6.35) -> (146.558, 5.842)
  line L202 (158.75, 6.35) -> (158.75, 5.842)
  dimension "d0" = 305.308
  dimension "d1" = 6.35
  dimension "d2" = 0.5094
  dimension "d3" = 0.508
  dimension "d4" = 0.508
  dimension "d5" = 5.842
  dimension "d8" = 6.35
extrude "Extrusion1" add sketch "Sketch1" along normal blind 225.425 contours L3 L2 L201 L99 L197 L0 | L2 L1 L200 L198 L101 L202
properties part number "8 ball polycarb top 2"
